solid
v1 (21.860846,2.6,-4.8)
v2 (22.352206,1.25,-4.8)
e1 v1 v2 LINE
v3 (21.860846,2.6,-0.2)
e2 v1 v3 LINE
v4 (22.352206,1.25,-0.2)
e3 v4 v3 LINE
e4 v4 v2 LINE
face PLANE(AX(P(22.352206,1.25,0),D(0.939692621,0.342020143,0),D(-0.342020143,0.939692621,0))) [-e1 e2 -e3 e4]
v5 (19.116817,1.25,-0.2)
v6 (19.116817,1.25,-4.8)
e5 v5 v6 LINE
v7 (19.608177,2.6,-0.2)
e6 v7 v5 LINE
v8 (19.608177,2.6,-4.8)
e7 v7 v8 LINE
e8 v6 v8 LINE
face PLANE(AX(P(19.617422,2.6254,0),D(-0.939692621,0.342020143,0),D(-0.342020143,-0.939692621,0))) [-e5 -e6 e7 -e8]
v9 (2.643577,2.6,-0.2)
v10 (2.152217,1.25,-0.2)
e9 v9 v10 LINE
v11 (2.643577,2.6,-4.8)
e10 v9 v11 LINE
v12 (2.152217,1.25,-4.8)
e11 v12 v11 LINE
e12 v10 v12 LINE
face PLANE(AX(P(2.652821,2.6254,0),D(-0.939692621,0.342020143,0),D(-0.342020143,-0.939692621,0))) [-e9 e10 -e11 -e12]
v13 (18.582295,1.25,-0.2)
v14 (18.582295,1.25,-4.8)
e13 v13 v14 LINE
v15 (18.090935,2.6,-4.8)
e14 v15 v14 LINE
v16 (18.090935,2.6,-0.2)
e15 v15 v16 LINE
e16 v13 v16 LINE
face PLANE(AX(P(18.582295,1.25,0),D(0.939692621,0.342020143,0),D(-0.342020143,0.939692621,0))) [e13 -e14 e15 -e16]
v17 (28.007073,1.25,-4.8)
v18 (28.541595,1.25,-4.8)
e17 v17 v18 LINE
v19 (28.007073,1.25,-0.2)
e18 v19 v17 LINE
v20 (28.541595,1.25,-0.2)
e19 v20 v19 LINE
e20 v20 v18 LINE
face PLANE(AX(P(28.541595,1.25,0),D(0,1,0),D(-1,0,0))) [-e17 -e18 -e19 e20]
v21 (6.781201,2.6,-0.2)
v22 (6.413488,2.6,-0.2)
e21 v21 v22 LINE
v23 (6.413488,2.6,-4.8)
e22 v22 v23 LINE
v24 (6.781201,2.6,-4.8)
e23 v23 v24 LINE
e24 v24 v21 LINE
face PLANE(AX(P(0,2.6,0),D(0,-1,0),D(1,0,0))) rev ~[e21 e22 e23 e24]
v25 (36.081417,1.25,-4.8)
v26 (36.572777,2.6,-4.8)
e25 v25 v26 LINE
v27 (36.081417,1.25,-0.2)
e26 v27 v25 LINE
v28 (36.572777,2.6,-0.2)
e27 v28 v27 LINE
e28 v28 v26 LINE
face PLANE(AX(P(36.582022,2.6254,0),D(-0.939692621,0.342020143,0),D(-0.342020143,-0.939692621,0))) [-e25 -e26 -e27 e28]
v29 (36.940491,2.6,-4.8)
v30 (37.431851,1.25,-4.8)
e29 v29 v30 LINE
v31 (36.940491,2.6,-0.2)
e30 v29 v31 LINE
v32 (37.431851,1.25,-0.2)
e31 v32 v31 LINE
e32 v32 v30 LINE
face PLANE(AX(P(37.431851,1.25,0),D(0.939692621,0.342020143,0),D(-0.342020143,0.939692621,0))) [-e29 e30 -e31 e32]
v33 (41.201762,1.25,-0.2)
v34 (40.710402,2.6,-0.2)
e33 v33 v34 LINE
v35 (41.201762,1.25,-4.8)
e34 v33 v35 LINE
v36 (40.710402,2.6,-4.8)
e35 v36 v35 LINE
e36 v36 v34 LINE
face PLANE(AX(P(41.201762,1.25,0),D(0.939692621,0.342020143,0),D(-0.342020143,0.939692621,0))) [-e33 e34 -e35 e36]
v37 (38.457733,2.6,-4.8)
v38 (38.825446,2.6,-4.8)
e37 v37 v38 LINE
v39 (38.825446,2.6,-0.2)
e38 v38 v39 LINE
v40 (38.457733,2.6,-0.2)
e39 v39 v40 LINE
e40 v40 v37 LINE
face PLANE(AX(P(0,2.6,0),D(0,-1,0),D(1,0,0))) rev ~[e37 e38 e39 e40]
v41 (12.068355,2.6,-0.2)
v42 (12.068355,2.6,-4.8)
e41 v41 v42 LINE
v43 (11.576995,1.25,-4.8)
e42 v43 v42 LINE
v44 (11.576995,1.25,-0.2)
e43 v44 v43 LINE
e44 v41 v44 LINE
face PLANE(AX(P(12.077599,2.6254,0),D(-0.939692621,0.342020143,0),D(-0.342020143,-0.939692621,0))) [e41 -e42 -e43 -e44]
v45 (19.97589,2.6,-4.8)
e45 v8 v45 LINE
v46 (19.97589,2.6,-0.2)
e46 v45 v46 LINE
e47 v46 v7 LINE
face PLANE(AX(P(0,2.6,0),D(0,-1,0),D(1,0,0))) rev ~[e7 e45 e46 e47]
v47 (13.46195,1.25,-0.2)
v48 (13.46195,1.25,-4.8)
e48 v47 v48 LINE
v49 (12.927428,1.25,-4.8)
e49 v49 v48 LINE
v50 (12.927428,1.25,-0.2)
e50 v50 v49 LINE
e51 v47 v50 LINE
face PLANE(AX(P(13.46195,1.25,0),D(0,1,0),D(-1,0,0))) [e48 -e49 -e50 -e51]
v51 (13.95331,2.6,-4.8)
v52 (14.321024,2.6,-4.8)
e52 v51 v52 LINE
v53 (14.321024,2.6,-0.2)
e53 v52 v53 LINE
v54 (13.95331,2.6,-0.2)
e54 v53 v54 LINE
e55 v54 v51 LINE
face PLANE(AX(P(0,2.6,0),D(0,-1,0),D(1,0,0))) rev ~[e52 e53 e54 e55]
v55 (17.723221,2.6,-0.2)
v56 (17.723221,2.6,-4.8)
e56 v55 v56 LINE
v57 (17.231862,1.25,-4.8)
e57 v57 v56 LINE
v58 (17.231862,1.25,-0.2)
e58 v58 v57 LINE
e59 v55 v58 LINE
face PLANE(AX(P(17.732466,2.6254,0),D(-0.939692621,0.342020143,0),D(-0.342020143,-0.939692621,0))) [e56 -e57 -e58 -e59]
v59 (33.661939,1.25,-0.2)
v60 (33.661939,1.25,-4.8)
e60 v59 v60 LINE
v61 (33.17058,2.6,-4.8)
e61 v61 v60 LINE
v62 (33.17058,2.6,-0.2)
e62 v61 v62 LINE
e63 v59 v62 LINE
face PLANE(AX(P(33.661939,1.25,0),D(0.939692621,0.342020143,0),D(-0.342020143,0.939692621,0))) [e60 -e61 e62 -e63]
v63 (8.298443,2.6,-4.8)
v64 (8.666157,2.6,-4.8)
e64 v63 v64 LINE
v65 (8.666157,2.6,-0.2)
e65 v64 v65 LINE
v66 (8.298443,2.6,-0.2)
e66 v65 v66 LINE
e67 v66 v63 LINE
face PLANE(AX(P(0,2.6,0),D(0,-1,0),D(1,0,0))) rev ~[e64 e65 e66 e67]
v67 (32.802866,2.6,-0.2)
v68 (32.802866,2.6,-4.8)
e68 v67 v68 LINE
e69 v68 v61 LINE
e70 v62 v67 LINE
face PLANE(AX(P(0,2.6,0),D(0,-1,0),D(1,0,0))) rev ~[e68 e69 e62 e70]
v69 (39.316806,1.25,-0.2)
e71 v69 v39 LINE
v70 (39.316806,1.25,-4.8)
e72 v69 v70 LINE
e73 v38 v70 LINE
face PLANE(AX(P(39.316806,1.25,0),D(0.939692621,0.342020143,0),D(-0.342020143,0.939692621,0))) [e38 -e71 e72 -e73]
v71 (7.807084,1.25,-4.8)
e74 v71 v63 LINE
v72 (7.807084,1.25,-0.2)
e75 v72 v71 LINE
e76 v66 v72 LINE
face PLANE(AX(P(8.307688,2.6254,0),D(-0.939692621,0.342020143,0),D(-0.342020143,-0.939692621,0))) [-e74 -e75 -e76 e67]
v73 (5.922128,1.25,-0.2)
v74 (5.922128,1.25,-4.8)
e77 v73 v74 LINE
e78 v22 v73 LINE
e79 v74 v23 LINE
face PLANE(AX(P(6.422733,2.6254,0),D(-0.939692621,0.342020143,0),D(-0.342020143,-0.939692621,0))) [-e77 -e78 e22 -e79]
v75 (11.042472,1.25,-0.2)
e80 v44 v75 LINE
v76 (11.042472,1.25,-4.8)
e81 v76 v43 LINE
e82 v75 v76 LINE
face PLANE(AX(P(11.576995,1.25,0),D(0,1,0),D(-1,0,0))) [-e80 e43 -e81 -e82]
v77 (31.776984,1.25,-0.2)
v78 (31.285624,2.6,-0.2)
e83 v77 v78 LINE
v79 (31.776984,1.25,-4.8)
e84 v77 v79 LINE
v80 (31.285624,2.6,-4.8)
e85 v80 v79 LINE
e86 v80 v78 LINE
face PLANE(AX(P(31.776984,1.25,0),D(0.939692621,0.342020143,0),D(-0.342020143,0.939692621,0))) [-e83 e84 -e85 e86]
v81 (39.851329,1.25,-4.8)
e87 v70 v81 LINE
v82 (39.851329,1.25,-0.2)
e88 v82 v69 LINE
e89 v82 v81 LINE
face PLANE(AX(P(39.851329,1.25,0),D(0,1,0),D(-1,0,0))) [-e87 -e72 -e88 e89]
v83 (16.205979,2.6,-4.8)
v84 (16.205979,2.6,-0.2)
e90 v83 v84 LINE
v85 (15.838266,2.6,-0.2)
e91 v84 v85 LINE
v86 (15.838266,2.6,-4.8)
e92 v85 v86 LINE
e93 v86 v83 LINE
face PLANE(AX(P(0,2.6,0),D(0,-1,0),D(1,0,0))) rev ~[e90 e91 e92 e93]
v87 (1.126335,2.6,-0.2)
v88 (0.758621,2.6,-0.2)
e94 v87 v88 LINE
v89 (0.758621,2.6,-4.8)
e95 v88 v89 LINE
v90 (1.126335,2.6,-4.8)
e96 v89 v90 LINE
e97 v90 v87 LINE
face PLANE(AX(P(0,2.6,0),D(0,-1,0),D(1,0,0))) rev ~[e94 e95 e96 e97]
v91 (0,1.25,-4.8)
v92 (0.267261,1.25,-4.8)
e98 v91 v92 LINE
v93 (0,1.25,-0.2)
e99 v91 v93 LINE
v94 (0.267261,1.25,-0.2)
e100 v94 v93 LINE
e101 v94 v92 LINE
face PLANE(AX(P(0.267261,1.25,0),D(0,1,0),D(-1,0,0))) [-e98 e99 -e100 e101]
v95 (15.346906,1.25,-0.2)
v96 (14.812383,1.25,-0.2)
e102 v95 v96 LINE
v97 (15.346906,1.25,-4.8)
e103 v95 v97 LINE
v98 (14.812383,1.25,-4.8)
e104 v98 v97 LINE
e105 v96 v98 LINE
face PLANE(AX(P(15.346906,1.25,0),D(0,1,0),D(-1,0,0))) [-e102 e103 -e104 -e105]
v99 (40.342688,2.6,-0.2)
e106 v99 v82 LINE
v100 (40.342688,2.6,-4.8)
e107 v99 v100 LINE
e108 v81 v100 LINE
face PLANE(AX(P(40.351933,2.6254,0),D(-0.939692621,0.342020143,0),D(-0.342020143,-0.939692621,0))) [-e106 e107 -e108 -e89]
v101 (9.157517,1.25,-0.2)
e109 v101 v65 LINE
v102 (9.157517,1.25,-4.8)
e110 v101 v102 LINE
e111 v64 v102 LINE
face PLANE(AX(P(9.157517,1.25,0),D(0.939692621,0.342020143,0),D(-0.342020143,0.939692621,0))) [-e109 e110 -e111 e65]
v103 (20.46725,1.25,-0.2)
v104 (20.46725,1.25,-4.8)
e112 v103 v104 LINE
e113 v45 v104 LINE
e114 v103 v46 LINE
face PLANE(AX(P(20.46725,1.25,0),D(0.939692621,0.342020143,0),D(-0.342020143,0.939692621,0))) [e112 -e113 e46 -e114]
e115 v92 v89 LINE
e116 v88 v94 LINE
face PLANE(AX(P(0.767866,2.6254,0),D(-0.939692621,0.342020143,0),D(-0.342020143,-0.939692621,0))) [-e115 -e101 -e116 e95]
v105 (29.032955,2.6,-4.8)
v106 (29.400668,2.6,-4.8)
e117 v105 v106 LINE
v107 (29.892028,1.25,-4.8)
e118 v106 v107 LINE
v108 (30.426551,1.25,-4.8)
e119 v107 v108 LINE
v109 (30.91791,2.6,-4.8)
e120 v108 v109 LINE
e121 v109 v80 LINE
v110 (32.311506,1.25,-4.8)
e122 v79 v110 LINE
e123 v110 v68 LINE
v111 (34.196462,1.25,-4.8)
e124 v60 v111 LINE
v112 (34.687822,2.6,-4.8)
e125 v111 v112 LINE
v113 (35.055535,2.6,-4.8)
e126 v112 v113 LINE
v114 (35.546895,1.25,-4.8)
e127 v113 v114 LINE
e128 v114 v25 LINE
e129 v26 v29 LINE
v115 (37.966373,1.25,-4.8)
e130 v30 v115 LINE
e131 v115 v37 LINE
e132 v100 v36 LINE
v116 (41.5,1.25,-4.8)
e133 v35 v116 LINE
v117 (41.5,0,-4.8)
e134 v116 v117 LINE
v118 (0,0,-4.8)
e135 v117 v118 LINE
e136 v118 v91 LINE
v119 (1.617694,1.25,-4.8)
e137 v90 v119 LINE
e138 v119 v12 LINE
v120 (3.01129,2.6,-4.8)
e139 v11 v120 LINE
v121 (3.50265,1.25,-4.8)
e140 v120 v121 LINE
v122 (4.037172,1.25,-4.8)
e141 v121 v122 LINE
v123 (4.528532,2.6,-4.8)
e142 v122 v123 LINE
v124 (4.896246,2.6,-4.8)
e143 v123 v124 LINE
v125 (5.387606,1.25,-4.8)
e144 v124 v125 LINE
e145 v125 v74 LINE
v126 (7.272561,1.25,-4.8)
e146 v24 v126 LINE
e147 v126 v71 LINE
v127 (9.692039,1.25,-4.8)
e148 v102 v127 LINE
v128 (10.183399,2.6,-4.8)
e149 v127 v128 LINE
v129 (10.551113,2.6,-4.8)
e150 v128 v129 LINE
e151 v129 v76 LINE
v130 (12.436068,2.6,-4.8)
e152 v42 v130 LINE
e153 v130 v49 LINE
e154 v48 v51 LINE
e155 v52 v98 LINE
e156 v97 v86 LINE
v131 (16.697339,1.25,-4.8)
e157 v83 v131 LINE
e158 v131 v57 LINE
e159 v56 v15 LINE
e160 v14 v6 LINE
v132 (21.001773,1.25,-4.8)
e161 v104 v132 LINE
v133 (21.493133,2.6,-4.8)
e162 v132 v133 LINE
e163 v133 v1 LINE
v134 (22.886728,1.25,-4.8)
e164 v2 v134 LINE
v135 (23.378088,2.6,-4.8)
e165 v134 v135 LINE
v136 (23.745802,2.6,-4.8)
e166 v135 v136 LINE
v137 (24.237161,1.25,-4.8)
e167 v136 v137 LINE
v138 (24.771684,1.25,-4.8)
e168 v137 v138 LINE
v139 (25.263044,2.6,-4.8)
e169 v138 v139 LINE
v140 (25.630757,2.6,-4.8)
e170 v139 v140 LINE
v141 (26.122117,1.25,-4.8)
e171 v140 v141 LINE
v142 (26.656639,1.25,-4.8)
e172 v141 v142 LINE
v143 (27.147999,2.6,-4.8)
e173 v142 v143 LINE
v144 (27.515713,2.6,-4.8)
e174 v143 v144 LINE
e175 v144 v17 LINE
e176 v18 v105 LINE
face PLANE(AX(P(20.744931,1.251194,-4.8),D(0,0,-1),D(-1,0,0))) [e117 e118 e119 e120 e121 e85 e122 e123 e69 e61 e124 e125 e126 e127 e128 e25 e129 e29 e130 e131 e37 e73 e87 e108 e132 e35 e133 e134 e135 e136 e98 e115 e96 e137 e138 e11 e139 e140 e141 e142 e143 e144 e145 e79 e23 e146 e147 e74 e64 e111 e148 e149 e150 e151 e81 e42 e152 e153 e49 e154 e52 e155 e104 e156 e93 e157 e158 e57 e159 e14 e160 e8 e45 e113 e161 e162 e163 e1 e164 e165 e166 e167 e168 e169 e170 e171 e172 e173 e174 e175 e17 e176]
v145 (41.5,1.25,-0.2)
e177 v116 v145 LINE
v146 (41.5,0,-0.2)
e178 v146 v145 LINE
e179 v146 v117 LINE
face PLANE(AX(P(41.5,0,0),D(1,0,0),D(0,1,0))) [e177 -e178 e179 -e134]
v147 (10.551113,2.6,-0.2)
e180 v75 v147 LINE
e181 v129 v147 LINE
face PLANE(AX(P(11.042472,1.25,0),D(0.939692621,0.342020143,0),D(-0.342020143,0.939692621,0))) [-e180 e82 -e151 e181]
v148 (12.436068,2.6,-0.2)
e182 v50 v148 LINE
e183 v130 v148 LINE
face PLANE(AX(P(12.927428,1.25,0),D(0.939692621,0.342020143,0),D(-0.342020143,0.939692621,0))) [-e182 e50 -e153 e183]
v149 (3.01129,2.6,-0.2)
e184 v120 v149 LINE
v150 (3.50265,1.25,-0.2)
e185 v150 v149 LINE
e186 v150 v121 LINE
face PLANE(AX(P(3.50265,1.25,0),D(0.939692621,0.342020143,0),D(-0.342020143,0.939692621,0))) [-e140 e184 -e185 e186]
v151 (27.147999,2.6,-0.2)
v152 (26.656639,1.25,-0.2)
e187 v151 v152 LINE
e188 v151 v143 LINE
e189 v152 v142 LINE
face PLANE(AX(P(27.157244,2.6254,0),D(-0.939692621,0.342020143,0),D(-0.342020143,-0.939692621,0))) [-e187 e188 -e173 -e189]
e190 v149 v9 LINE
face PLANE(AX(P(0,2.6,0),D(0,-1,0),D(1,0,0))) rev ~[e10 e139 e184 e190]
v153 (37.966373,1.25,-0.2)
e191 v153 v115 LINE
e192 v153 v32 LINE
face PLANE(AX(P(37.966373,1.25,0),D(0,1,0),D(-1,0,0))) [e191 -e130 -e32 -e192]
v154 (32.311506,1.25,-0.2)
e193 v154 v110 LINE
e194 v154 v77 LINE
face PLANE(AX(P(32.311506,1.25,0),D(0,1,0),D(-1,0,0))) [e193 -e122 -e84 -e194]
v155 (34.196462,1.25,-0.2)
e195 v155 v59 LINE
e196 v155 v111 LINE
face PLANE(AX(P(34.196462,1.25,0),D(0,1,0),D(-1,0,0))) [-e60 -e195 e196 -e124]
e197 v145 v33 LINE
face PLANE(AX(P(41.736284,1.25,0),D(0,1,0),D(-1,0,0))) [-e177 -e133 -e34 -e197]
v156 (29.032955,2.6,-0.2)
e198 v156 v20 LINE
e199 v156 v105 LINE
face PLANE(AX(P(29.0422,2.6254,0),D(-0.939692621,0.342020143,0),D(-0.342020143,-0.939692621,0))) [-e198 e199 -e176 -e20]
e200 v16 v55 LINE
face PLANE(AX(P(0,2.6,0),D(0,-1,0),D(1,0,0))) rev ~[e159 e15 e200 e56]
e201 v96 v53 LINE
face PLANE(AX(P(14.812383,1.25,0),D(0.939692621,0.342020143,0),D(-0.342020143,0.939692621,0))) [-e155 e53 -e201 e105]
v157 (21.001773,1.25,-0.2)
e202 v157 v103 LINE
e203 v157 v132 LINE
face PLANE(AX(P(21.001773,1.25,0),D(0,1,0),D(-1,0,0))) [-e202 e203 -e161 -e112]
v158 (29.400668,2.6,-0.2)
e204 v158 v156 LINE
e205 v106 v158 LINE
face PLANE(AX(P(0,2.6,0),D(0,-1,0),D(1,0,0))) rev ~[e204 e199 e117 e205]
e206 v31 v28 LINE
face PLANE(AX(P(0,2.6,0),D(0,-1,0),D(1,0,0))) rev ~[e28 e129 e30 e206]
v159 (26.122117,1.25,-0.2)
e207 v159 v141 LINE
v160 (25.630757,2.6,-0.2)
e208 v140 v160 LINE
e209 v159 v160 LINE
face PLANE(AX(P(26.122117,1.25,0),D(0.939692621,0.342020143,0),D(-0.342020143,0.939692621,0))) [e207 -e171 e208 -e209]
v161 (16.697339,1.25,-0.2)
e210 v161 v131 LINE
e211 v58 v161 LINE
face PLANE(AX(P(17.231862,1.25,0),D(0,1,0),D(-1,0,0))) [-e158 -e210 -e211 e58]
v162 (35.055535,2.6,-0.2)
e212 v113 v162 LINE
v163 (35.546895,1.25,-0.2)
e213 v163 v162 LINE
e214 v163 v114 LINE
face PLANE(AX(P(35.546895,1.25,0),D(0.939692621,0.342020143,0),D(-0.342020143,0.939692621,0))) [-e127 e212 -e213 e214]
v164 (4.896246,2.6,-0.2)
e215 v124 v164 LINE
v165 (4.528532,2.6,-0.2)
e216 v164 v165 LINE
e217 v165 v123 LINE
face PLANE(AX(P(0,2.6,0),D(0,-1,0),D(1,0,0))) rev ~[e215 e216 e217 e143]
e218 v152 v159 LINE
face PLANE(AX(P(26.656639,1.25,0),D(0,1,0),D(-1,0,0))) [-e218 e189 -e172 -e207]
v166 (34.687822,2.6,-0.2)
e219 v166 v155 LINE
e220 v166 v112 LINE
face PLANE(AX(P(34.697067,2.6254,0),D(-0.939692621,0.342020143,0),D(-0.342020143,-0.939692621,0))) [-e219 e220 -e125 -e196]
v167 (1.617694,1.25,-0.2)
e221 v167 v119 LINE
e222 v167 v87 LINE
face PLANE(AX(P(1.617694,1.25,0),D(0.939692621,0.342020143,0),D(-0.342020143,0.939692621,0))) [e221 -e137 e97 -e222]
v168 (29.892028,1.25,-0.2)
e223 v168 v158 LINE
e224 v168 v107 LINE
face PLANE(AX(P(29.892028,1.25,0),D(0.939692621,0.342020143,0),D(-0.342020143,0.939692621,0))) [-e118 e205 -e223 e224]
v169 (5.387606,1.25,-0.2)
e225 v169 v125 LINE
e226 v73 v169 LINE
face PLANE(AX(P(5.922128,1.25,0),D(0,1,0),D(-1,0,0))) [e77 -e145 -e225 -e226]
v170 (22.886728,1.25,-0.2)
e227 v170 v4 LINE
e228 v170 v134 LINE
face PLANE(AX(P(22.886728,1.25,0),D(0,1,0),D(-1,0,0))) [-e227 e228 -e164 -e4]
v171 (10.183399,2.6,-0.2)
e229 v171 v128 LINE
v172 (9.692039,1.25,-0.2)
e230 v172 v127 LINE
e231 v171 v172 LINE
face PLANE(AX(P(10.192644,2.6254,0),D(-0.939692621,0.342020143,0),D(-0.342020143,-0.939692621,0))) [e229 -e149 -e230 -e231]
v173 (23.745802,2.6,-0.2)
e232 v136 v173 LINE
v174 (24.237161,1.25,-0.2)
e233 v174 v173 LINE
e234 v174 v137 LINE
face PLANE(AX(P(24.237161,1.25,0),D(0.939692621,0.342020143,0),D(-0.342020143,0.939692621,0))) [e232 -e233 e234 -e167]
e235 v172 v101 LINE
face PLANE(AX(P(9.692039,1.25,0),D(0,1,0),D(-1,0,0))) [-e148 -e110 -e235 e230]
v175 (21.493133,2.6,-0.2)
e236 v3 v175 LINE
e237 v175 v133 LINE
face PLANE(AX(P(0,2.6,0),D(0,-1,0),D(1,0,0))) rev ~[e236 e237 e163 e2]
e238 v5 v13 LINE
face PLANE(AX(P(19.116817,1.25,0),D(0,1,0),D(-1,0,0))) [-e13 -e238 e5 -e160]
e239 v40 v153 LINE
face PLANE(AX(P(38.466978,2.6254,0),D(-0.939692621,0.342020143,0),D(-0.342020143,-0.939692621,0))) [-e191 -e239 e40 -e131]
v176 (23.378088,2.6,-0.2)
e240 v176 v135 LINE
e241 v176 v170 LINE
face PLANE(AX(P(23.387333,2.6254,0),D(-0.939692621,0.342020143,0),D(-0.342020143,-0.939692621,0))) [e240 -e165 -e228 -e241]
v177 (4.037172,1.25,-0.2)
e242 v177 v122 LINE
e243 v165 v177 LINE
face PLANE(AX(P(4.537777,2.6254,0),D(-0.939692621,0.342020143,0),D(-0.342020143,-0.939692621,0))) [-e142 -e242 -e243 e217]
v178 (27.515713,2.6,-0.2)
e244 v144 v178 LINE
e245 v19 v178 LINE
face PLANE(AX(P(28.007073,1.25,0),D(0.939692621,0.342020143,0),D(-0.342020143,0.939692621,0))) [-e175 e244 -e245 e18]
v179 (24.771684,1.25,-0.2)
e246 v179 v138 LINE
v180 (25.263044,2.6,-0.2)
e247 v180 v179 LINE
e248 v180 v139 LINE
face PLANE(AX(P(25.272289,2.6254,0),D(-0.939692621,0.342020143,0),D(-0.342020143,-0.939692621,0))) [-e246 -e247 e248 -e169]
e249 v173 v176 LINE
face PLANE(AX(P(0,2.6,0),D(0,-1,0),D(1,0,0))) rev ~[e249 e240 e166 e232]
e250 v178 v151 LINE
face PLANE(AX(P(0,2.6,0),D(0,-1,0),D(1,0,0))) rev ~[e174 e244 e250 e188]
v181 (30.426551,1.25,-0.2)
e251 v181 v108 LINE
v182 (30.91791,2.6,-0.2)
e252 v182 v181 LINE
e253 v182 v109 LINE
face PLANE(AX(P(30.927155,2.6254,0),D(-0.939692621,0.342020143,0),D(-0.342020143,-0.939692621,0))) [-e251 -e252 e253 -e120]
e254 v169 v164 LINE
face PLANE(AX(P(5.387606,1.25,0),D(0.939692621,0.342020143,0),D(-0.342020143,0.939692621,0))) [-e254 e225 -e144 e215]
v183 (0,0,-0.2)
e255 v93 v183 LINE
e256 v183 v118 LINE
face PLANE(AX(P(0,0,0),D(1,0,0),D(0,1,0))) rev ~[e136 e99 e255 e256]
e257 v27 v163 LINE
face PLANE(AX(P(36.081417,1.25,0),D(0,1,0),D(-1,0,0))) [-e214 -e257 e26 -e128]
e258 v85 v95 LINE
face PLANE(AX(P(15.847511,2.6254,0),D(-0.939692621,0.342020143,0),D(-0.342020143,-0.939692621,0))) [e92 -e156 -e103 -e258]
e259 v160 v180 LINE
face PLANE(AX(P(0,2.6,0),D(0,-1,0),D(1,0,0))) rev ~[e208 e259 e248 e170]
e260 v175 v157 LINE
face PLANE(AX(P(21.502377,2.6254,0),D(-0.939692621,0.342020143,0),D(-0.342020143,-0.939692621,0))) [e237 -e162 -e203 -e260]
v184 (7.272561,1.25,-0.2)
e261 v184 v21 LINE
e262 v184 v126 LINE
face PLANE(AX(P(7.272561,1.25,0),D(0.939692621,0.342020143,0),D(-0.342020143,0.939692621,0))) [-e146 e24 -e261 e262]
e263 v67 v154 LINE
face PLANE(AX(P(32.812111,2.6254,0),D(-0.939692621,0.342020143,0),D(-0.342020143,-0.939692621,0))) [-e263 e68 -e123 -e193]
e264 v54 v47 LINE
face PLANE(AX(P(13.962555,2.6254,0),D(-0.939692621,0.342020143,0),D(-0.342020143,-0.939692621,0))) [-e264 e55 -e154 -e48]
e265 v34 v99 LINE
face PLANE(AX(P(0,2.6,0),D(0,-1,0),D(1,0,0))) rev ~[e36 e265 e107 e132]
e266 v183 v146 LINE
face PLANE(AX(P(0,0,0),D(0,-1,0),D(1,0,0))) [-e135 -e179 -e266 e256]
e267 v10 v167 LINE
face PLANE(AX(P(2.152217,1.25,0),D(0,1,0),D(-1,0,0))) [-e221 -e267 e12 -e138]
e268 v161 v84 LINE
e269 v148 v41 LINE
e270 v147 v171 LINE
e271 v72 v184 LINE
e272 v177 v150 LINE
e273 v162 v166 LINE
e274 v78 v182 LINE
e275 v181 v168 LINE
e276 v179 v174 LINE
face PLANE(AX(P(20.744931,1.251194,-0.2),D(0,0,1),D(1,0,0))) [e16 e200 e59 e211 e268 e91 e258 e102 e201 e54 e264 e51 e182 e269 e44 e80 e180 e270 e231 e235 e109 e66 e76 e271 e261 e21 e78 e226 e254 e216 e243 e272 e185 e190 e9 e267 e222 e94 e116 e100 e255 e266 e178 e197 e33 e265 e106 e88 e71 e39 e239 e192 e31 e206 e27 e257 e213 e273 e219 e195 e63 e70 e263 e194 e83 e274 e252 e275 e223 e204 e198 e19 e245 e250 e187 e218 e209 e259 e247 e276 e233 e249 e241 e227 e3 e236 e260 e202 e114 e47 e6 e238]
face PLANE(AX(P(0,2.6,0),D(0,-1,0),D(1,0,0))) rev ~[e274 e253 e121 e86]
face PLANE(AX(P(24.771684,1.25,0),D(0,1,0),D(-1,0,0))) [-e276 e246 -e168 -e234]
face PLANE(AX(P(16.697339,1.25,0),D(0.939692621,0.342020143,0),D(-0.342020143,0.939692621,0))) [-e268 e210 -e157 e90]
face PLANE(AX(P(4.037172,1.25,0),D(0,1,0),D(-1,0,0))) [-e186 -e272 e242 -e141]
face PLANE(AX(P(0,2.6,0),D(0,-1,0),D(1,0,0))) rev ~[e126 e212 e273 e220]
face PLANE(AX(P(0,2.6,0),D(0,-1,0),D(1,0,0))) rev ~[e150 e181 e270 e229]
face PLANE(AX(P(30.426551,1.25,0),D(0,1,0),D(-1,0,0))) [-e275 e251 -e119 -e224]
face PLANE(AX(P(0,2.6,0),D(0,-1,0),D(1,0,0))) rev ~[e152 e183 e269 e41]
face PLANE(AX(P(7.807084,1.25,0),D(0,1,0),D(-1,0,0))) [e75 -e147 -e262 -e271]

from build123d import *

# Parameters (mm, degrees)
BLANKSKE_W         = 41.5
BLANKSKE_H         = 2.6
BLANK_DEPTH        = 5
TOOTHCUTSIM_DEPTH  = 42.880902569
TEETHCUTS_COUNT    = 23
TEETHCUTS_PITCH    = 1.88495559
CUT_EXTRUDE1_DEPTH = 0.2
CUT_EXTRUDE2_DEPTH = 0.2


with BuildPart() as part:
    # BlankSke → Blank (new body)
    with BuildSketch(Plane.XY):
        with Locations((20.75, 1.3)):
            Rectangle(BLANKSKE_W, BLANKSKE_H)
    extrude(amount=-BLANK_DEPTH)

    # TooCutSkeSim → ToothCutSim (cut, through all)
    with BuildSketch(Plane.XY):
        Polygon((0.267261222, 1.25), (-0.267261222, 1.25), (-0.767865882, 2.6254), (0.767865882, 2.6254), align=None)
    toothcutsim = extrude(amount=-TOOTHCUTSIM_DEPTH, mode=Mode.SUBTRACT)

    # TeethCuts: ToothCutSim ×23
    with Locations(*[(i * TEETHCUTS_PITCH, 0, 0) for i in range(1, TEETHCUTS_COUNT)]):
        add(toothcutsim, mode=Mode.SUBTRACT)

    # Sketch1 → Cut-Extrude1 (cut)
    with BuildSketch(Plane.XY):
        Polygon((41.5, 1.25), (41.201761758, 1.25), (40.710401942, 2.6), (40.342688428, 2.6), (39.851328612, 1.25), (39.316806168, 1.25), (38.825446352, 2.6), (38.457732838, 2.6), (37.966373022, 1.25), (37.431850578, 1.25), (36.940490762, 2.6), (36.572777248, 2.6), (36.081417432, 1.25), (35.546894988, 1.25), (35.055535172, 2.6), (34.687821658, 2.6), (34.196461842, 1.25), (33.661939398, 1.25), (33.170579582, 2.6), (32.802866068, 2.6), (32.311506252, 1.25), (31.776983808, 1.25), (31.285623992, 2.6), (30.917910478, 2.6), (30.426550662, 1.25), (29.892028218, 1.25), (29.400668402, 2.6), (29.032954888, 2.6), (28.541595072, 1.25), (28.007072628, 1.25), (27.515712812, 2.6), (27.147999298, 2.6), (26.656639482, 1.25), (26.122117038, 1.25), (25.630757222, 2.6), (25.263043708, 2.6), (24.771683892, 1.25), (24.237161448, 1.25), (23.745801632, 2.6), (23.378088118, 2.6), (22.886728302, 1.25), (22.352205858, 1.25), (21.860846042, 2.6), (21.493132528, 2.6), (21.001772712, 1.25), (20.467250268, 1.25), (19.975890452, 2.6), (19.608176938, 2.6), (19.116817122, 1.25), (18.582294678, 1.25), (18.090934862, 2.6), (17.723221348, 2.6), (17.231861532, 1.25), (16.697339088, 1.25), (16.205979272, 2.6), (15.838265758, 2.6), (15.346905942, 1.25), (14.812383498, 1.25), (14.321023682, 2.6), (13.953310168, 2.6), (13.461950352, 1.25), (12.927427908, 1.25), (12.436068092, 2.6), (12.068354578, 2.6), (11.576994762, 1.25), (11.042472318, 1.25), (10.551112502, 2.6), (10.183398988, 2.6), (9.692039172, 1.25), (9.157516728, 1.25), (8.666156912, 2.6), (8.298443398, 2.6), (7.807083582, 1.25), (7.272561138, 1.25), (6.781201322, 2.6), (6.413487808, 2.6), (5.922127992, 1.25), (5.387605548, 1.25), (4.896245732, 2.6), (4.528532218, 2.6), (4.037172402, 1.25), (3.502649958, 1.25), (3.011290142, 2.6), (2.643576628, 2.6), (2.152216812, 1.25), (1.617694368, 1.25), (1.126334552, 2.6), (0.758621038, 2.6), (0.267261222, 1.25), (0, 1.25), (0, 0), (41.5, 0), align=None)
    extrude(amount=-CUT_EXTRUDE1_DEPTH, mode=Mode.SUBTRACT)

    # Sketch2 → Cut-Extrude2 (cut)
    with BuildSketch(Plane(origin=(0, 0, -5), x_dir=(-1, 0, 0), z_dir=(0, 0, -1))):
        Polygon((-40.710401942, 2.6), (-41.201761758, 1.25), (-41.5, 1.25), (-41.5, 0), (0, 0), (0, 1.25), (-0.267261222, 1.25), (-0.758621038, 2.6), (-1.126334552, 2.6), (-1.617694368, 1.25), (-2.152216812, 1.25), (-2.643576628, 2.6), (-3.011290142, 2.6), (-3.502649958, 1.25), (-4.037172402, 1.25), (-4.528532218, 2.6), (-4.896245732, 2.6), (-5.387605548, 1.25), (-5.922127992, 1.25), (-6.413487808, 2.6), (-6.781201322, 2.6), (-7.272561138, 1.25), (-7.807083582, 1.25), (-8.298443398, 2.6), (-8.666156912, 2.6), (-9.157516728, 1.25), (-9.692039172, 1.25), (-10.183398988, 2.6), (-10.551112502, 2.6), (-11.042472318, 1.25), (-11.576994762, 1.25), (-12.068354578, 2.6), (-12.436068092, 2.6), (-12.927427908, 1.25), (-13.461950352, 1.25), (-13.953310168, 2.6), (-14.321023682, 2.6), (-14.812383498, 1.25), (-15.346905942, 1.25), (-15.838265758, 2.6), (-16.205979272, 2.6), (-16.697339088, 1.25), (-17.231861532, 1.25), (-17.723221348, 2.6), (-18.090934862, 2.6), (-18.582294678, 1.25), (-19.116817122, 1.25), (-19.608176938, 2.6), (-19.975890452, 2.6), (-20.467250268, 1.25), (-21.001772712, 1.25), (-21.493132528, 2.6), (-21.860846042, 2.6), (-22.352205858, 1.25), (-22.886728302, 1.25), (-23.378088118, 2.6), (-23.745801632, 2.6), (-24.237161448, 1.25), (-24.771683892, 1.25), (-25.263043708, 2.6), (-25.630757222, 2.6), (-26.122117038, 1.25), (-26.656639482, 1.25), (-27.147999298, 2.6), (-27.515712812, 2.6), (-28.007072628, 1.25), (-28.541595072, 1.25), (-29.032954888, 2.6), (-29.400668402, 2.6), (-29.892028218, 1.25), (-30.426550662, 1.25), (-30.917910478, 2.6), (-31.285623992, 2.6), (-31.776983808, 1.25), (-32.311506252, 1.25), (-32.802866068, 2.6), (-33.170579582, 2.6), (-33.661939398, 1.25), (-34.196461842, 1.25), (-34.687821658, 2.6), (-35.055535172, 2.6), (-35.546894988, 1.25), (-36.081417432, 1.25), (-36.572777248, 2.6), (-36.940490762, 2.6), (-37.431850578, 1.25), (-37.966373022, 1.25), (-38.457732838, 2.6), (-38.825446352, 2.6), (-39.316806168, 1.25), (-39.851328612, 1.25), (-40.342688428, 2.6), align=None)
    extrude(amount=-CUT_EXTRUDE2_DEPTH, mode=Mode.SUBTRACT)


solid = part.part
